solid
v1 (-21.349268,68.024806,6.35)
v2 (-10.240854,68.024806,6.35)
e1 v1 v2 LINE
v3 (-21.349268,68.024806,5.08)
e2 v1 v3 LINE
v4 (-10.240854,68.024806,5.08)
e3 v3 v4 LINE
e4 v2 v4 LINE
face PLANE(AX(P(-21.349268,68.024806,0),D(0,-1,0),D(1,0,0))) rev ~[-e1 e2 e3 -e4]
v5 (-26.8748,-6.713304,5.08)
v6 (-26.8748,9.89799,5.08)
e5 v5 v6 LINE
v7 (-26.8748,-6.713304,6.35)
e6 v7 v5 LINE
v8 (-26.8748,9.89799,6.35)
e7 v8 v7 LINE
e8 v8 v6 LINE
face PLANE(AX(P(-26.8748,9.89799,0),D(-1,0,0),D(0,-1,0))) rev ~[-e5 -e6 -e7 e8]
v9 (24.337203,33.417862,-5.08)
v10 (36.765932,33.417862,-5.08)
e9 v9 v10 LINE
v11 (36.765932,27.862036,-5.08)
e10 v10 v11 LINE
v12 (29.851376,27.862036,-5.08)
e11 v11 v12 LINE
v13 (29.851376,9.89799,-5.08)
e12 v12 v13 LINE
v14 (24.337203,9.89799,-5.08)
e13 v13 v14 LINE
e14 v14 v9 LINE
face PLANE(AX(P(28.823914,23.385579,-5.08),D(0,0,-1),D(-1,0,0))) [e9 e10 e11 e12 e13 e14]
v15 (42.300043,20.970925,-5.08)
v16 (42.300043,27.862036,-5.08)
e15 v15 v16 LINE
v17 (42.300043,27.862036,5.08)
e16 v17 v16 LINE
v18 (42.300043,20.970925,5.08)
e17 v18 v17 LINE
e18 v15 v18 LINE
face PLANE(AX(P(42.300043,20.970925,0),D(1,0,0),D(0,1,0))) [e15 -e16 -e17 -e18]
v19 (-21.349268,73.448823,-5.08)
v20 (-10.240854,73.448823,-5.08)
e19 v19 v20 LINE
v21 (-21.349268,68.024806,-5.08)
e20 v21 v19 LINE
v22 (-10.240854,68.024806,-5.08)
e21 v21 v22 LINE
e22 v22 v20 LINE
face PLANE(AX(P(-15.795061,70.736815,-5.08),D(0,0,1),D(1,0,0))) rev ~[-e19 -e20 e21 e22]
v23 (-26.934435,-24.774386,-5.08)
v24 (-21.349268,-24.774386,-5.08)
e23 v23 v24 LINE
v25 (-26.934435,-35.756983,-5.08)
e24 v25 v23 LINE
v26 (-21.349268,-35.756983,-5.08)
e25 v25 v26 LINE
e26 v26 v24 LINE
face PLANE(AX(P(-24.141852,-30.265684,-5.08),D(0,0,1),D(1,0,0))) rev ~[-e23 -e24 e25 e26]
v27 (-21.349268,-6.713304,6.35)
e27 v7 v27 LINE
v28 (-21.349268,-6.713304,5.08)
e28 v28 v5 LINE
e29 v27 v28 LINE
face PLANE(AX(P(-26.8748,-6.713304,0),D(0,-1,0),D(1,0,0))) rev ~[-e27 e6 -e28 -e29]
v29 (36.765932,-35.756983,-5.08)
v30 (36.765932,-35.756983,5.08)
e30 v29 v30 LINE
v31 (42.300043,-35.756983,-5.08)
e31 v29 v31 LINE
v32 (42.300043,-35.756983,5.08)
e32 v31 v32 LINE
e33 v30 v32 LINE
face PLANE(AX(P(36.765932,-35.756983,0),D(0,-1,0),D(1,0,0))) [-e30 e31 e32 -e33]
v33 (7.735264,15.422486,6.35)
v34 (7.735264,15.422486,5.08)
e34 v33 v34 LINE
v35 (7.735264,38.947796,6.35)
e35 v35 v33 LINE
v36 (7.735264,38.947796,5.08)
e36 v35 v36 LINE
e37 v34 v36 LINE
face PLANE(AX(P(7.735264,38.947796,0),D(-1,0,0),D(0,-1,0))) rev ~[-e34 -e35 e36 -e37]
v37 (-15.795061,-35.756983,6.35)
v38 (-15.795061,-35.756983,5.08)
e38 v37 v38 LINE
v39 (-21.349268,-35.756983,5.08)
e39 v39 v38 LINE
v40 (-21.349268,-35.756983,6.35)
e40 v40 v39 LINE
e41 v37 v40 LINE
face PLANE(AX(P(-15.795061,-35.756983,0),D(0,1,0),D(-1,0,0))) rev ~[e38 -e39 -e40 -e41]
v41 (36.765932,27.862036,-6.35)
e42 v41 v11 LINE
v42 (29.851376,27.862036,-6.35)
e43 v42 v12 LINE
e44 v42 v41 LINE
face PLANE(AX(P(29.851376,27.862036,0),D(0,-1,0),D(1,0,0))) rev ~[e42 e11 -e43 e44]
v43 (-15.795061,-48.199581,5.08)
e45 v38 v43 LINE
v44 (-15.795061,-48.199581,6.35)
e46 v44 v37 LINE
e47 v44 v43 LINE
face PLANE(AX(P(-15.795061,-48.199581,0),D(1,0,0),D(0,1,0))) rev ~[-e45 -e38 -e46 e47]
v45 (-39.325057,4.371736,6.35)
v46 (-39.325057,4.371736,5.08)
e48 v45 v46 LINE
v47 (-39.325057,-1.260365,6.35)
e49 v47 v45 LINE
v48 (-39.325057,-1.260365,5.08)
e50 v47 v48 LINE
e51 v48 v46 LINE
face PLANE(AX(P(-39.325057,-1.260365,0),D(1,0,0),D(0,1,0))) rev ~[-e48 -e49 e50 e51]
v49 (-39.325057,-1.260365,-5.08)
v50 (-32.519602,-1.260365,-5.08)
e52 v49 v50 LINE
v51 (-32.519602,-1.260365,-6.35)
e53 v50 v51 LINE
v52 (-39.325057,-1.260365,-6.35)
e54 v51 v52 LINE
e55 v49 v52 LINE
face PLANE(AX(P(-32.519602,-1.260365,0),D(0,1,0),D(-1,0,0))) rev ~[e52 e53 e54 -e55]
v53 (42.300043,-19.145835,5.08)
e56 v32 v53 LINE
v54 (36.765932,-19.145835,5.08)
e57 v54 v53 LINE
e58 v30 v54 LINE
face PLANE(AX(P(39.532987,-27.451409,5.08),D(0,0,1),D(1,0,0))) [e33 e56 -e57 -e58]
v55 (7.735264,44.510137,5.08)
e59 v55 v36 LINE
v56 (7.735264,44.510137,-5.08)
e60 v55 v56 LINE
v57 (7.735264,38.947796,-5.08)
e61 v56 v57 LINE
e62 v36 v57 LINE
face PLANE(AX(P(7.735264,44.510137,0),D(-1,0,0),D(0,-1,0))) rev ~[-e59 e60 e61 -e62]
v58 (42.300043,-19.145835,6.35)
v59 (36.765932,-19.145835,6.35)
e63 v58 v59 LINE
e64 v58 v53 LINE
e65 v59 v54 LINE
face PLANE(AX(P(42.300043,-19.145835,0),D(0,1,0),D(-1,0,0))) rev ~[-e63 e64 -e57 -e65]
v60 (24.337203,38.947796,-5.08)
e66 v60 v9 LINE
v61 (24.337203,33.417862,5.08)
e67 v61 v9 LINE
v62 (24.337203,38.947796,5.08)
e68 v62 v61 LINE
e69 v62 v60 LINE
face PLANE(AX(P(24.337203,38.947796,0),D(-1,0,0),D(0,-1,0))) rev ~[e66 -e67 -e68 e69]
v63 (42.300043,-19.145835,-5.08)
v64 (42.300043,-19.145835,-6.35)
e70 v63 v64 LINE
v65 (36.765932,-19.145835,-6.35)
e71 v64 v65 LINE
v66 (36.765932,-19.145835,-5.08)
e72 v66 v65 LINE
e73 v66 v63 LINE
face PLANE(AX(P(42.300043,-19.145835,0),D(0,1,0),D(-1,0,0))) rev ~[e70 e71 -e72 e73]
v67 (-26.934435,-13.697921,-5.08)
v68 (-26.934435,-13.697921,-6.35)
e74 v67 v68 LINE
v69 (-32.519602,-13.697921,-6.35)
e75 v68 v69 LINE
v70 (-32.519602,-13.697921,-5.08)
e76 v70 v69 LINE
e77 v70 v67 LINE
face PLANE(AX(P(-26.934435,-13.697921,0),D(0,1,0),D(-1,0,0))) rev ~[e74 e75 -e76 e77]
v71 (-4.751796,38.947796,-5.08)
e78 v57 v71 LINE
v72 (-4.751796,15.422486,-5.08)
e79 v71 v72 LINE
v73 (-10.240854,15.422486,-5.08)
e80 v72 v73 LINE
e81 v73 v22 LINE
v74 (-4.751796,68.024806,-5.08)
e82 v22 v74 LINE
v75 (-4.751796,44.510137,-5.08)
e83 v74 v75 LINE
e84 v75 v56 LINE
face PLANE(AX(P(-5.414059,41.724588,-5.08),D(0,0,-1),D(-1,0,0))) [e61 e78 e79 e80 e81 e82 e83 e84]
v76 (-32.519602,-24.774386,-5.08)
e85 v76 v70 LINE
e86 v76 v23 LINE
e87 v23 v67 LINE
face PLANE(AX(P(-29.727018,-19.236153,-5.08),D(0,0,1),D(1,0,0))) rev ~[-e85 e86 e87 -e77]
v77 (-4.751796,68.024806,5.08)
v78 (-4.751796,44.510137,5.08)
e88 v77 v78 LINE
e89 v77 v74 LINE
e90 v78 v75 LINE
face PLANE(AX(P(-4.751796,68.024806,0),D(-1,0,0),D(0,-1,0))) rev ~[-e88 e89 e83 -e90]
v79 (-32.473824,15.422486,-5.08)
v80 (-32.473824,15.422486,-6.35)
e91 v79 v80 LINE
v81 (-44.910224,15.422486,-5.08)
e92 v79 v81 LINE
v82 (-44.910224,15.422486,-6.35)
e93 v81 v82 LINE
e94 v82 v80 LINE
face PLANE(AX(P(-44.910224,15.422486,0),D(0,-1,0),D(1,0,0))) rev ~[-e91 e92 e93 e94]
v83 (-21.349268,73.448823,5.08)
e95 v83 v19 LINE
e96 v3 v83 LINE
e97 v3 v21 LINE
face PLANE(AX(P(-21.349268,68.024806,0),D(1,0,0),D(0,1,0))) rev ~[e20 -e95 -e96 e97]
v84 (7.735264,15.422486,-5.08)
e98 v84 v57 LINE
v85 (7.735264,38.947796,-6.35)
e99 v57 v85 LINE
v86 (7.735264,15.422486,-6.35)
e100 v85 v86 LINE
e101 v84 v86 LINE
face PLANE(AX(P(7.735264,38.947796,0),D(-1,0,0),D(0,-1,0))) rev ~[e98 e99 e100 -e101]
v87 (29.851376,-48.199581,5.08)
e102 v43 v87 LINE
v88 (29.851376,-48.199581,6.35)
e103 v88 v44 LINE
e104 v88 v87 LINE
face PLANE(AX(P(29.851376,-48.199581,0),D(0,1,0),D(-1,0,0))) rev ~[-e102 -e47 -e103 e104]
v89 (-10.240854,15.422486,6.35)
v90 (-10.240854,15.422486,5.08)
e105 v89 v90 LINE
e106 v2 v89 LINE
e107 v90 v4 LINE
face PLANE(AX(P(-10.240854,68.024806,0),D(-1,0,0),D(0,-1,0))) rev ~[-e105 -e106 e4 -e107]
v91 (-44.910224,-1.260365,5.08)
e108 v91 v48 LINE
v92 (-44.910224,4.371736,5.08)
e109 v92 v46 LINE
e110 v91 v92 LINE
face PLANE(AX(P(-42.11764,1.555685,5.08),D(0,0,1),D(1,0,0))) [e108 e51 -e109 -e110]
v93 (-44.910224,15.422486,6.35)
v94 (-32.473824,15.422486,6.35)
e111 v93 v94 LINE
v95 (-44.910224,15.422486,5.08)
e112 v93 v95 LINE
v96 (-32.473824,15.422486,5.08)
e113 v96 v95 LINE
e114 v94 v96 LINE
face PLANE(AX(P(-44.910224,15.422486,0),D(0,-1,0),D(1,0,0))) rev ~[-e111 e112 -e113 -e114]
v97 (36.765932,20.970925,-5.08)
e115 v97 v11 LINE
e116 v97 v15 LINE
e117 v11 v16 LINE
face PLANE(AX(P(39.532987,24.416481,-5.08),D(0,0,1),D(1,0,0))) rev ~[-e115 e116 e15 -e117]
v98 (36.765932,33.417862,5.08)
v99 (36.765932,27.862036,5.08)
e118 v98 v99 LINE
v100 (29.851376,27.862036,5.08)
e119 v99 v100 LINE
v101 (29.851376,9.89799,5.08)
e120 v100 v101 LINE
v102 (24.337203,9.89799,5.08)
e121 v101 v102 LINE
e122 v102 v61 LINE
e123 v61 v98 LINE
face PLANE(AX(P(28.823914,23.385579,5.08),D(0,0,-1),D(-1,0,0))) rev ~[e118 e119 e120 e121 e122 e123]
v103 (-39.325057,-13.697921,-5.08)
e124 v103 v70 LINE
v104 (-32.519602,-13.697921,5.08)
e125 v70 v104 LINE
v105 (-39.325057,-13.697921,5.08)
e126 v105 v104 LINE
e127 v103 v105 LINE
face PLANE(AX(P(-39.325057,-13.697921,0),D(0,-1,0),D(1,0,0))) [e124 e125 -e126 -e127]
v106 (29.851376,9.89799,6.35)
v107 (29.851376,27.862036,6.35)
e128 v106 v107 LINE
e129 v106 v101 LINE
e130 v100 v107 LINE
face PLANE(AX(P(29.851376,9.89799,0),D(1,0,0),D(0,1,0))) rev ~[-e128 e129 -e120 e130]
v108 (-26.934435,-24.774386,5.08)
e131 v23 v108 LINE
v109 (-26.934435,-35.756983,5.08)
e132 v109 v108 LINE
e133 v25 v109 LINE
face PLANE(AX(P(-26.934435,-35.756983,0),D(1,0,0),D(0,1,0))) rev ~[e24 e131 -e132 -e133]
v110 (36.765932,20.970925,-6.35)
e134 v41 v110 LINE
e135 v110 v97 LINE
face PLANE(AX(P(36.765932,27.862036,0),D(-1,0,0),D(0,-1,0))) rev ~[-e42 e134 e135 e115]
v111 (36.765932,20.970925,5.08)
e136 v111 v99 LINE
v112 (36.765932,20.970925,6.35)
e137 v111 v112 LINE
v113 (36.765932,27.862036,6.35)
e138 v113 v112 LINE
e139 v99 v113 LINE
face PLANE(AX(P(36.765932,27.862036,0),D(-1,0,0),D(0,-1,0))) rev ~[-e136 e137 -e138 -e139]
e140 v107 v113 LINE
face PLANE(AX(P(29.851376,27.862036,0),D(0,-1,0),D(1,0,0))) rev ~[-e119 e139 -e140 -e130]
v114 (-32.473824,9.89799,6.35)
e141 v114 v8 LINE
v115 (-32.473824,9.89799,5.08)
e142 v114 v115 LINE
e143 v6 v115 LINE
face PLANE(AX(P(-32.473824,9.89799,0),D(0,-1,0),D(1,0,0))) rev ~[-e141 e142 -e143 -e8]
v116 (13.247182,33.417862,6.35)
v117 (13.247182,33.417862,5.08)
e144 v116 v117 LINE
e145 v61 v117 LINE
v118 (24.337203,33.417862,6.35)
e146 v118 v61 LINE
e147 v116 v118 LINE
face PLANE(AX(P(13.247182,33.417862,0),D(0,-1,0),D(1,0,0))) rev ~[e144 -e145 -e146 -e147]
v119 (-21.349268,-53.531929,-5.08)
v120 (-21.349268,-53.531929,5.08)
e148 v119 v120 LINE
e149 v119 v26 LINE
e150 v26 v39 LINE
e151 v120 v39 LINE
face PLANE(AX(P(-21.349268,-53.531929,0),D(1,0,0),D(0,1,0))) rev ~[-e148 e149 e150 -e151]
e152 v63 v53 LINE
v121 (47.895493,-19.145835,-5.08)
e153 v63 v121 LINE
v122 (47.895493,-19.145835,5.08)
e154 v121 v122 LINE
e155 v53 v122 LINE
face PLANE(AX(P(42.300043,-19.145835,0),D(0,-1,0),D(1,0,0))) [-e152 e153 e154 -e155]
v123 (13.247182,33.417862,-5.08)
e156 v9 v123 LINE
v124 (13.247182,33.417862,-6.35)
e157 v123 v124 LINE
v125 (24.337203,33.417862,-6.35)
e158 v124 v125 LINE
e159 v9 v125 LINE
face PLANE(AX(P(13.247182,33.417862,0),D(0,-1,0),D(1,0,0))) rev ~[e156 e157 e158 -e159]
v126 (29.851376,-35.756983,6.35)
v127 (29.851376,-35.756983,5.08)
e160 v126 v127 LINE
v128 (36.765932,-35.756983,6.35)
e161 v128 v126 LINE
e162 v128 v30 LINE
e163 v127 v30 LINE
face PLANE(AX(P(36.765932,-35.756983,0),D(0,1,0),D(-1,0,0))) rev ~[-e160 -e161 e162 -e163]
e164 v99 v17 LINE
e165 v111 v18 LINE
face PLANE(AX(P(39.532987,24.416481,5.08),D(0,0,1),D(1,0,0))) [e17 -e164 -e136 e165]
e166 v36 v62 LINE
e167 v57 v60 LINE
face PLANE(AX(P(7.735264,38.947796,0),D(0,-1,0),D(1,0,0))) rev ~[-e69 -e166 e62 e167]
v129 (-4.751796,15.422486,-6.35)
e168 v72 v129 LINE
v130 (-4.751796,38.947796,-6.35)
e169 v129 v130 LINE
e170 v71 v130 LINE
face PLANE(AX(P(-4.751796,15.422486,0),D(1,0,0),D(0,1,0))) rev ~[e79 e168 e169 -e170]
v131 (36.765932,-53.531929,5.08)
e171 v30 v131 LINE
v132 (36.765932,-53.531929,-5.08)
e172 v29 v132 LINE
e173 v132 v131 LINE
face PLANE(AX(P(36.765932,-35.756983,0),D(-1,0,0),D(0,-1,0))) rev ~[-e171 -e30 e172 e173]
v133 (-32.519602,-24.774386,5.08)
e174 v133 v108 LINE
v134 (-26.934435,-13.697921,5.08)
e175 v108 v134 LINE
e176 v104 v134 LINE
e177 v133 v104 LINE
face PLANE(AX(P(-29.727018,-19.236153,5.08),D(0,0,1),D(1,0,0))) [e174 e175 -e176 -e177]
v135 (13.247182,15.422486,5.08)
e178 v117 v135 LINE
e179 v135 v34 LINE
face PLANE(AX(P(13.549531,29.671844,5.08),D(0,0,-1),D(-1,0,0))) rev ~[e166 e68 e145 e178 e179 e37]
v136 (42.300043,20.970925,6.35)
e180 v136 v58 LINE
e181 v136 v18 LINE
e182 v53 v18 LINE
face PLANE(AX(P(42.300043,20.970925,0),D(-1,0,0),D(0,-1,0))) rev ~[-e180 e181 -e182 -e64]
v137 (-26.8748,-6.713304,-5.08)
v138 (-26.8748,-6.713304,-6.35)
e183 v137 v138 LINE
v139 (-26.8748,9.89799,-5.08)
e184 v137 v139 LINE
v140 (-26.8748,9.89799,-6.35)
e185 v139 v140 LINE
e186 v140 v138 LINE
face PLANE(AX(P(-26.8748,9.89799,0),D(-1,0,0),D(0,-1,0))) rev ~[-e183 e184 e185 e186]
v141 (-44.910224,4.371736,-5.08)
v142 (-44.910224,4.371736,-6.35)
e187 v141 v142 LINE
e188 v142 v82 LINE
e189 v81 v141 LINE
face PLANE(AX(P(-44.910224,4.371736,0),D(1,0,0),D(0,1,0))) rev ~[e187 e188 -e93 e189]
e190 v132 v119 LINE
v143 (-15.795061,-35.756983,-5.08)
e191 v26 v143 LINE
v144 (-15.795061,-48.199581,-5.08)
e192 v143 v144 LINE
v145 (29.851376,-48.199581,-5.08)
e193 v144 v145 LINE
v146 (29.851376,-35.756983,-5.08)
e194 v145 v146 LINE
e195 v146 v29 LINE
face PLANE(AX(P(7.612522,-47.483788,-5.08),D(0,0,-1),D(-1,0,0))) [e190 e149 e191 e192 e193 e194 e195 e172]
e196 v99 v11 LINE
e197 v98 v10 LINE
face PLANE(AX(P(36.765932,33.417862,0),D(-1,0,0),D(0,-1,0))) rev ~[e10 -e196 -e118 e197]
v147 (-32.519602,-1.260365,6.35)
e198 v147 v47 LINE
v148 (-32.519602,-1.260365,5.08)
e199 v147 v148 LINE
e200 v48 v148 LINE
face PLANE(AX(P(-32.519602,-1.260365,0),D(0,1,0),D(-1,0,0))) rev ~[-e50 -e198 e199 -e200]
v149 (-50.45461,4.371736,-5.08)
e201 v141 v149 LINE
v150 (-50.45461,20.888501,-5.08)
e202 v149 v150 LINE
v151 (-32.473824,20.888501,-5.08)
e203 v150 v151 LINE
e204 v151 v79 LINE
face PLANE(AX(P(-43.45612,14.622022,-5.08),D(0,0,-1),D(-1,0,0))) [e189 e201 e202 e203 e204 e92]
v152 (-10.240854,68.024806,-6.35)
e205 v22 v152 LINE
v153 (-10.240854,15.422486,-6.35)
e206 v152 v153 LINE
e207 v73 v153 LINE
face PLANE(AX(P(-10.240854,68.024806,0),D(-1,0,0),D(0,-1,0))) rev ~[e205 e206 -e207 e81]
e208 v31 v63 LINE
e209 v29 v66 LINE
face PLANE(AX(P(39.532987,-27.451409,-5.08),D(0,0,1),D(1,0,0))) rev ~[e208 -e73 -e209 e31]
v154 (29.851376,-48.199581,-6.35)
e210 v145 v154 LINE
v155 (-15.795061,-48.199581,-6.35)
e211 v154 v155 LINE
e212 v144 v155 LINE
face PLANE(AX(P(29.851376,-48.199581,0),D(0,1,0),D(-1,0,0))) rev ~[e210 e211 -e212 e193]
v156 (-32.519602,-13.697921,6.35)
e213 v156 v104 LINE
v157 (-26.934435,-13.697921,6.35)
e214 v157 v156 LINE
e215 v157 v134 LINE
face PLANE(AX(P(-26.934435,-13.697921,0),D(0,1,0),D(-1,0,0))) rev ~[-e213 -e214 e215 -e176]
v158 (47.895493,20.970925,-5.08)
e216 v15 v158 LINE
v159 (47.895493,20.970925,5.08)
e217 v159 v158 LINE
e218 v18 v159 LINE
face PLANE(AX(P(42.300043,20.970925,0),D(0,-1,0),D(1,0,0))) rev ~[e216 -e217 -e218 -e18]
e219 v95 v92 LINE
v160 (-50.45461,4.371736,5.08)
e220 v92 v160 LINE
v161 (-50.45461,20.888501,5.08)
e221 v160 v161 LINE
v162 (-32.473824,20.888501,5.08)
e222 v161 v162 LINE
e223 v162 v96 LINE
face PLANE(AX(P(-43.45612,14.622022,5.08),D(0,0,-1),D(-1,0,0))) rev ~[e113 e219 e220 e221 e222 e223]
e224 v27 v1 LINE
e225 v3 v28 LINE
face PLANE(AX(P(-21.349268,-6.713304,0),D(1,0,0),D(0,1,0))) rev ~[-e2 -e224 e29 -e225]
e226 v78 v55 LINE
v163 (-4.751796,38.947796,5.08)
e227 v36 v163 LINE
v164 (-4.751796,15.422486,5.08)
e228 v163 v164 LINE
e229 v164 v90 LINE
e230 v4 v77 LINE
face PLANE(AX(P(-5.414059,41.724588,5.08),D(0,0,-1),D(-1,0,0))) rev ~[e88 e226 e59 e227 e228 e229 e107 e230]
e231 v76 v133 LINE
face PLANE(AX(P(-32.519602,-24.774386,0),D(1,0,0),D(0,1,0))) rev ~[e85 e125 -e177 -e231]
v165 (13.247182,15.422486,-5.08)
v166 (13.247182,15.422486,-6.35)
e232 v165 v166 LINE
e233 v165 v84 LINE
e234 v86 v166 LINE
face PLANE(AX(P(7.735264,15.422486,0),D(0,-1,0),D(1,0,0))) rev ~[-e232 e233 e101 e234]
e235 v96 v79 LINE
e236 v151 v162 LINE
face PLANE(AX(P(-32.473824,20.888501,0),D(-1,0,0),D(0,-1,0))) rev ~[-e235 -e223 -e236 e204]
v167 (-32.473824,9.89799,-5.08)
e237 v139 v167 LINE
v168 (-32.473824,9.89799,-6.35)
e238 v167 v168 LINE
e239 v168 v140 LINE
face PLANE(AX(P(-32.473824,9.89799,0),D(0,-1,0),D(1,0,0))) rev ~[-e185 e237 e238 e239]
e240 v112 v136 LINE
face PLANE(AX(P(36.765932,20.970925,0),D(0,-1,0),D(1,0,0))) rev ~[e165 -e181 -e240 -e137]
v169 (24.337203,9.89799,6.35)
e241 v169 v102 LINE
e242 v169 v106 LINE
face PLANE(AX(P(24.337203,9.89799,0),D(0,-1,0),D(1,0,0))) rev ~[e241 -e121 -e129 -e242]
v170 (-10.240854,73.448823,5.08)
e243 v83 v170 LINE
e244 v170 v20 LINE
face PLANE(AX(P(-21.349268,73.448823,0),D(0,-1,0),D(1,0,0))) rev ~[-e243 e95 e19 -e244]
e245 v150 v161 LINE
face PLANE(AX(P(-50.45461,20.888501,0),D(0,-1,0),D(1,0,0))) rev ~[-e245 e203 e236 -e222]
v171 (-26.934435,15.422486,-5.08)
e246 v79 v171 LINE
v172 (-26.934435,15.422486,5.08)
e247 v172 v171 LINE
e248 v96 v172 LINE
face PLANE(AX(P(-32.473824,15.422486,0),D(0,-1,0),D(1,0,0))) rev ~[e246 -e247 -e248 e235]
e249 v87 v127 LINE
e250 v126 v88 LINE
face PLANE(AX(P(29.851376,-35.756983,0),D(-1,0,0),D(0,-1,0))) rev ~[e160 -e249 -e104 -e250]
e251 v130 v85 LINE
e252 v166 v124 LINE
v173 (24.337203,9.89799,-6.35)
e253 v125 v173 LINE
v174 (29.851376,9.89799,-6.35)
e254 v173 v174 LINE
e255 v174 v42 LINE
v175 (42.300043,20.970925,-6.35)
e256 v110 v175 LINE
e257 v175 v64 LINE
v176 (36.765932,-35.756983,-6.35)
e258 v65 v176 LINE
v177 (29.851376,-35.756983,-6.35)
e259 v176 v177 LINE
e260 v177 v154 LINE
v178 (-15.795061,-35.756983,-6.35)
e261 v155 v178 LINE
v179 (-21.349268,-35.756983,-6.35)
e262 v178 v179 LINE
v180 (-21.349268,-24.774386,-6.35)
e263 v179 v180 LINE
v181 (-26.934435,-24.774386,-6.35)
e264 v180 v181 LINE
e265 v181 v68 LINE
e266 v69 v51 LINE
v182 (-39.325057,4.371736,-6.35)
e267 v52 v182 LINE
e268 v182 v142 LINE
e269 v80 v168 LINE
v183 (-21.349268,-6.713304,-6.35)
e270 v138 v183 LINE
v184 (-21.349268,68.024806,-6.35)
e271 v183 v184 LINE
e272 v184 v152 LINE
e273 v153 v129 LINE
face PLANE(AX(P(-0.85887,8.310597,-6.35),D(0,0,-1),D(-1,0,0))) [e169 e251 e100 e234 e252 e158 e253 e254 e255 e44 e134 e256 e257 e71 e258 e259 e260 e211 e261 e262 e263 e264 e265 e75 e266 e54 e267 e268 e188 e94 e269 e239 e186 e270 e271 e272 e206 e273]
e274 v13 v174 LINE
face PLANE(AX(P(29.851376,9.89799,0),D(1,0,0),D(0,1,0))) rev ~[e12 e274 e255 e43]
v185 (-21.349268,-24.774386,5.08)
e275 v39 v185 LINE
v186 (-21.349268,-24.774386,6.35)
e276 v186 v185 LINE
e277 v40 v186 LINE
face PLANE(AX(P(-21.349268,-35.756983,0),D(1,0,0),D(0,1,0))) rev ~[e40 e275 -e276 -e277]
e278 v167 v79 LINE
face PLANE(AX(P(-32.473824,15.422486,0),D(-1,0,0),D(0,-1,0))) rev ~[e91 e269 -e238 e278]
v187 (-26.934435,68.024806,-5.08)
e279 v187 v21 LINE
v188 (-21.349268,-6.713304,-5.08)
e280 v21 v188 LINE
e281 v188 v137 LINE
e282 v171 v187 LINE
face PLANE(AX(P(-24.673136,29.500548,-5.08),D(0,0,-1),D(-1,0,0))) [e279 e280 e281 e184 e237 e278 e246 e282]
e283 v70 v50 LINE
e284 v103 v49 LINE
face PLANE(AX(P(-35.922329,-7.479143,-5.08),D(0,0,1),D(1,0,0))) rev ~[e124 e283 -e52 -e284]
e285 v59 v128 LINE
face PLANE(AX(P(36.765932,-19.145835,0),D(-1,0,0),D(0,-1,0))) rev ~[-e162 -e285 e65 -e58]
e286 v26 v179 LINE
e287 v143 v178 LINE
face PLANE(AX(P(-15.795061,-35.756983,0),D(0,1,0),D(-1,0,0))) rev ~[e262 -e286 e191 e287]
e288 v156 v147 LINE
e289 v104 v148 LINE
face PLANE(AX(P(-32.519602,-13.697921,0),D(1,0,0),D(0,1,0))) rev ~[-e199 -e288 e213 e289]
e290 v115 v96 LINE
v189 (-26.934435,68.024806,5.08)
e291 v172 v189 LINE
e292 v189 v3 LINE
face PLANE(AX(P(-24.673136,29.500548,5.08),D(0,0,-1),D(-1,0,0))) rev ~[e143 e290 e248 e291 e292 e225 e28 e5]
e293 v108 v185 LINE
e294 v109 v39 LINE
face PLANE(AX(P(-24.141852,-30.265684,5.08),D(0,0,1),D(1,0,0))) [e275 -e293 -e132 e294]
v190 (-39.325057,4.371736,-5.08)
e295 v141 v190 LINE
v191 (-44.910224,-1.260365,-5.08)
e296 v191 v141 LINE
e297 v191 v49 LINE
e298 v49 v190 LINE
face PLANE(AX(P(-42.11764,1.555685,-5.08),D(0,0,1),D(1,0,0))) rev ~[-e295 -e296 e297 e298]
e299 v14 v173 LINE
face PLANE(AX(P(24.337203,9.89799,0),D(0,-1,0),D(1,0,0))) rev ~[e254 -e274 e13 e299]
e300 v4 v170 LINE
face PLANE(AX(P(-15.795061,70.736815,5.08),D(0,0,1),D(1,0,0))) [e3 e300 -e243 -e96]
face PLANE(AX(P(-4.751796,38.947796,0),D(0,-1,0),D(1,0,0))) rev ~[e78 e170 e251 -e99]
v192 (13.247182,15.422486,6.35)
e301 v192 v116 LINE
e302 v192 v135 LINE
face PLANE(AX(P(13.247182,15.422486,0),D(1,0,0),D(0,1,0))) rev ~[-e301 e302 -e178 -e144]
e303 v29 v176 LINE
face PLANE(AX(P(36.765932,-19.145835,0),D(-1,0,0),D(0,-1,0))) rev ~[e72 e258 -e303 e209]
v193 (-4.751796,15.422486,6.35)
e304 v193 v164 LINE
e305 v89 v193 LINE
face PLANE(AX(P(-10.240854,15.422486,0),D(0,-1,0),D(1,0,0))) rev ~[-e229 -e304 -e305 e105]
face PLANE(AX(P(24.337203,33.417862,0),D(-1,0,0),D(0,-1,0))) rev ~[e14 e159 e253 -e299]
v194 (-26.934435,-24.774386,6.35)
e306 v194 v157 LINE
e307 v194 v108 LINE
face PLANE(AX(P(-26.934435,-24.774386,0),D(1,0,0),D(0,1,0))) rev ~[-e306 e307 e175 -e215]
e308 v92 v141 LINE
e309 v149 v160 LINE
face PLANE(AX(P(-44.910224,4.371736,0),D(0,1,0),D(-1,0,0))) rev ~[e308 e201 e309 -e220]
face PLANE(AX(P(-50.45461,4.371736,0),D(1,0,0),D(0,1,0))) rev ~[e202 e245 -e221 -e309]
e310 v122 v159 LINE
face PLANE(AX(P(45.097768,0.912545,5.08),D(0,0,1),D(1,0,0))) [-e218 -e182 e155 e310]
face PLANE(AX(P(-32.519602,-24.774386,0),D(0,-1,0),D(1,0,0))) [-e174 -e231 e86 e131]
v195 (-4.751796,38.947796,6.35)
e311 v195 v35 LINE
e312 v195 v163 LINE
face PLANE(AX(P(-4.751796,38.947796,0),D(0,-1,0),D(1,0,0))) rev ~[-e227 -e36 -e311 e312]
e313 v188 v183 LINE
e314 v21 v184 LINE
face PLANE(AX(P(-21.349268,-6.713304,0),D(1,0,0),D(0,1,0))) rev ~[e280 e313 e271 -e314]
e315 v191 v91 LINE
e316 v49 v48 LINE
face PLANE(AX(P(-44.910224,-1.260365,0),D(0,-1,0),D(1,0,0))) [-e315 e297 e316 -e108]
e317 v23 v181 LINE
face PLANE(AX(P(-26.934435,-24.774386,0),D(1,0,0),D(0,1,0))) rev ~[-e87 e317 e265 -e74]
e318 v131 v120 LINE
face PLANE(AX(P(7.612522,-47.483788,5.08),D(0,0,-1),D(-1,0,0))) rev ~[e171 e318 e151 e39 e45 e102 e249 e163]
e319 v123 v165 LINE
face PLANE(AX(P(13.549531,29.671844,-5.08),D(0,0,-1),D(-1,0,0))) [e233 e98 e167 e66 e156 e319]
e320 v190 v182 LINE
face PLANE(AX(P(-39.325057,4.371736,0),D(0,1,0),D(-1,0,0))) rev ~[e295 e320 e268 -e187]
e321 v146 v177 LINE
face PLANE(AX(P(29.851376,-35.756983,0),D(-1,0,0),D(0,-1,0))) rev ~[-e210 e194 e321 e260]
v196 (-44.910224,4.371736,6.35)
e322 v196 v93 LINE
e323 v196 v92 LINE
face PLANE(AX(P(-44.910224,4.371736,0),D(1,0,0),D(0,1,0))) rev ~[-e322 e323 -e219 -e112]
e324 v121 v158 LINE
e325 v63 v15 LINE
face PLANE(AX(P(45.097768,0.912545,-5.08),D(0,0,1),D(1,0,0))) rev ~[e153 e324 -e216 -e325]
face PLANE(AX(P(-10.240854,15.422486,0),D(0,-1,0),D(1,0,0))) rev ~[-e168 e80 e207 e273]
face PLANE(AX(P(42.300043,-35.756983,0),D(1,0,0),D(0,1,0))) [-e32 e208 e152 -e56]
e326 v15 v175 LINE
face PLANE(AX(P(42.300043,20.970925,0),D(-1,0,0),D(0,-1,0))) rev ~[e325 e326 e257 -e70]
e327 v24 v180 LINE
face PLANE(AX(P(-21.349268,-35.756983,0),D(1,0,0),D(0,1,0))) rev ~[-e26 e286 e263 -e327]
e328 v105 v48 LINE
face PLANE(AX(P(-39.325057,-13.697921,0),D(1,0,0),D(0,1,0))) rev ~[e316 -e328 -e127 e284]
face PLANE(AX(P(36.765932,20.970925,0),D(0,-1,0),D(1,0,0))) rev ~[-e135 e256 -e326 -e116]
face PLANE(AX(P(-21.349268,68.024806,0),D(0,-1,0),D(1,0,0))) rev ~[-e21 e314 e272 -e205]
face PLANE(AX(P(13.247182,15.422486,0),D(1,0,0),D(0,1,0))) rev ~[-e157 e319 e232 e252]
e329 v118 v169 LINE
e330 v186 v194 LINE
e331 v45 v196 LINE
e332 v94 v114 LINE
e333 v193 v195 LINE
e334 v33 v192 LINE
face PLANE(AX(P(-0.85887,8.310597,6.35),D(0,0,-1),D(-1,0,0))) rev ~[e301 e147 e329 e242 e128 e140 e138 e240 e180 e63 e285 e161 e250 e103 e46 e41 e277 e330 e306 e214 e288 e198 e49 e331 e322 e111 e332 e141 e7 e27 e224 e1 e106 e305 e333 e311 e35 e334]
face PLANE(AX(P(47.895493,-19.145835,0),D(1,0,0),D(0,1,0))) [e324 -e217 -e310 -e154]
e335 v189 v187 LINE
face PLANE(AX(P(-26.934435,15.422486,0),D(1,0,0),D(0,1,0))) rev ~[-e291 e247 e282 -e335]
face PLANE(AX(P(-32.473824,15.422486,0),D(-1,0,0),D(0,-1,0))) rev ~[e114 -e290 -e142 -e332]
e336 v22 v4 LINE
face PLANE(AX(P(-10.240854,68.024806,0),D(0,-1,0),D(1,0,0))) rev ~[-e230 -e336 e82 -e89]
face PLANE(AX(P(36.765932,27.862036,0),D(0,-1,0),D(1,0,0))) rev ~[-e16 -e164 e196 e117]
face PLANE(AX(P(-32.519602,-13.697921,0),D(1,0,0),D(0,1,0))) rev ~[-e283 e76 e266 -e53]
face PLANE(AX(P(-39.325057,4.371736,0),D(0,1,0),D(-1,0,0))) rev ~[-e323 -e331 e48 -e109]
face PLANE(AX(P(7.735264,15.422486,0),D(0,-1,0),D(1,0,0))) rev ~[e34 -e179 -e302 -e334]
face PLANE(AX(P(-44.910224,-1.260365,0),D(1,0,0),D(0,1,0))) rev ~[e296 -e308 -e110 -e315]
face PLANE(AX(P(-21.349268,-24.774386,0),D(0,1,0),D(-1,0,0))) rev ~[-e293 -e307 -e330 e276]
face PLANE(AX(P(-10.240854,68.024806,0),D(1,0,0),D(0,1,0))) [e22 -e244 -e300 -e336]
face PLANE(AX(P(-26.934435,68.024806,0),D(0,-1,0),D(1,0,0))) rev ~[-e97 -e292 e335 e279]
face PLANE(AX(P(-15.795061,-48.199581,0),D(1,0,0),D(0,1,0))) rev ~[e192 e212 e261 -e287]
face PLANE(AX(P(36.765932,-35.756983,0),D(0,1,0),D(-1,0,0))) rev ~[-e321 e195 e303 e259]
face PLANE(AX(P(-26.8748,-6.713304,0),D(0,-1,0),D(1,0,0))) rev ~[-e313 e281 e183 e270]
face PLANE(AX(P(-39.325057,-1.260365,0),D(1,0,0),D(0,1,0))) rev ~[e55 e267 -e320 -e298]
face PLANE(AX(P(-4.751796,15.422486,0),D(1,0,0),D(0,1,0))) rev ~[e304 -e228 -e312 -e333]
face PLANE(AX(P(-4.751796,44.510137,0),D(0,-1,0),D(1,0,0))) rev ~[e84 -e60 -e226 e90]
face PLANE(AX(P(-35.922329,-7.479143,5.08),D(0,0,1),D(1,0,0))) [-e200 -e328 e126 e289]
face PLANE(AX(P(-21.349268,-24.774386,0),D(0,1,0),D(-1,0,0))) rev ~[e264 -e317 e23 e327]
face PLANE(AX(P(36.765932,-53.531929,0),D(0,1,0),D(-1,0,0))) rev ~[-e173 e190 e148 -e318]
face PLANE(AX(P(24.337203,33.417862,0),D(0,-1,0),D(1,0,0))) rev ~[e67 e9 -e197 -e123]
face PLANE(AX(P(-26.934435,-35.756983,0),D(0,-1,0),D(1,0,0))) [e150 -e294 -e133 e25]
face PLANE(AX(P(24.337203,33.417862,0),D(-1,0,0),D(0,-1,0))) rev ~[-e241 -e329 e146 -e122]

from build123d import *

# Parameters (mm, degrees)
BOSS_EXTRUDE1_DEPTH = 6.35
SKETCH1_4_W         = 5.585166648
SKETCH1_4_H         = 10.982596602
SKETCH1_4_W_2       = 5.534111201
SKETCH1_4_H_2       = 16.61114729
SKETCH1_4_H_3       = 11.076464949
SKETCH1_4_W_3       = 5.595450485
SKETCH1_4_H_4       = 40.116759918
SKETCH1_4_W_4       = 6.80545516
SKETCH1_4_H_5       = 12.437555982
SKETCH1_4_H_6       = 6.891111662
SKETCH1_4_H_7       = 5.632100821
SKETCH1_4_W_5       = 11.108414189
SKETCH1_4_H_8       = 5.424016142
BOSS_EXTRUDE2_DEPTH = 5.08


with BuildPart() as part:
    # Sketch1 → Boss-Extrude1 (new, symmetric)
    with BuildSketch(Plane.XY):
        Polygon((-21.349268481, -24.774385929), (-21.349268481, -35.756982531), (-15.795061386, -35.756982531), (-15.795061386, -48.199580791), (29.851375766, -48.199580791), (29.851375766, -35.756982531), (36.765931583, -35.756982531), (36.765931583, -19.145835241), (42.300042784, -19.145835241), (42.300042784, 20.970924677), (36.765931583, 20.970924677), (36.765931583, 27.862036339), (29.851375766, 27.862036339), (29.851375766, 9.897989881), (24.337202566, 9.897989881), (24.337202566, 33.41786203), (13.247182022, 33.41786203), (13.247182022, 15.422486478), (7.735264144, 15.422486478), (7.735264144, 38.947796151), (-4.751796061, 38.947796151), (-4.751796061, 15.422486478), (-10.240854292, 15.422486478), (-10.240854292, 68.024806454), (-21.349268481, 68.024806454), (-21.349268481, -6.713303634), (-26.874799511, -6.713303634), (-26.874799511, 9.897989881), (-32.473823981, 9.897989881), (-32.473823981, 15.422486478), (-44.910223585, 15.422486478), (-44.910223585, 4.371735823), (-39.325056937, 4.371735823), (-39.325056937, -1.260364998), (-32.519601777, -1.260364998), (-32.519601777, -13.69792098), (-26.934435129, -13.69792098), (-26.934435129, -24.774385929), align=None)
    extrude(amount=BOSS_EXTRUDE1_DEPTH, both=True)

    # Sketch1<4> → Boss-Extrude2 (add, symmetric)
    with BuildSketch(Plane.XY):
        Polygon((-21.349268481, -35.756982531), (-21.349268481, -53.531928868), (36.765931583, -53.531928868), (36.765931583, -35.756982531), (29.851375766, -35.756982531), (29.851375766, -48.199580791), (-15.795061386, -48.199580791), (-15.795061386, -35.756982531), align=None)
        with Locations((-24.141851805, -30.26568423)):
            Rectangle(SKETCH1_4_W, SKETCH1_4_H)
        with Locations((39.532987184, -27.451408886)):
            Rectangle(SKETCH1_4_W_2, SKETCH1_4_H_2)
        with Locations((-29.727018453, -19.236153455)):
            Rectangle(SKETCH1_4_W, SKETCH1_4_H_3)
        with Locations((45.097768027, 0.912544718)):
            Rectangle(SKETCH1_4_W_3, SKETCH1_4_H_4)
        with Locations((-35.922329357, -7.479142989)):
            Rectangle(SKETCH1_4_W_4, SKETCH1_4_H_5)
        with Locations((39.532987184, 24.416480508)):
            Rectangle(SKETCH1_4_W_2, SKETCH1_4_H_6)
        with Locations((-42.117640261, 1.555685412)):
            Rectangle(SKETCH1_4_W, SKETCH1_4_H_7)
        Polygon((29.851375766, 27.862036339), (36.765931583, 27.862036339), (36.765931583, 33.41786203), (24.337202566, 33.41786203), (24.337202566, 9.897989881), (29.851375766, 9.897989881), align=None)
        Polygon((-50.454609627, 4.371735823), (-44.910223585, 4.371735823), (-44.910223585, 15.422486478), (-32.473823981, 15.422486478), (-32.473823981, 20.888501361), (-50.454609627, 20.888501361), align=None)
        Polygon((13.247182022, 33.41786203), (24.337202566, 33.41786203), (24.337202566, 38.947796151), (7.735264144, 38.947796151), (7.735264144, 15.422486478), (13.247182022, 15.422486478), align=None)
        Polygon((-26.934435129, 15.422486478), (-32.473823981, 15.422486478), (-32.473823981, 9.897989881), (-26.874799511, 9.897989881), (-26.874799511, -6.713303634), (-21.349268481, -6.713303634), (-21.349268481, 68.024806454), (-26.934435129, 68.024806454), align=None)
        Polygon((-4.751796061, 38.947796151), (7.735264144, 38.947796151), (7.735264144, 44.510136865), (-4.751796061, 44.510136865), (-4.751796061, 68.024806454), (-10.240854292, 68.024806454), (-10.240854292, 15.422486478), (-4.751796061, 15.422486478), align=None)
        with Locations((-15.795061387, 70.736814525)):
            Rectangle(SKETCH1_4_W_5, SKETCH1_4_H_8)
    extrude(amount=BOSS_EXTRUDE2_DEPTH, both=True)


solid = part.part
